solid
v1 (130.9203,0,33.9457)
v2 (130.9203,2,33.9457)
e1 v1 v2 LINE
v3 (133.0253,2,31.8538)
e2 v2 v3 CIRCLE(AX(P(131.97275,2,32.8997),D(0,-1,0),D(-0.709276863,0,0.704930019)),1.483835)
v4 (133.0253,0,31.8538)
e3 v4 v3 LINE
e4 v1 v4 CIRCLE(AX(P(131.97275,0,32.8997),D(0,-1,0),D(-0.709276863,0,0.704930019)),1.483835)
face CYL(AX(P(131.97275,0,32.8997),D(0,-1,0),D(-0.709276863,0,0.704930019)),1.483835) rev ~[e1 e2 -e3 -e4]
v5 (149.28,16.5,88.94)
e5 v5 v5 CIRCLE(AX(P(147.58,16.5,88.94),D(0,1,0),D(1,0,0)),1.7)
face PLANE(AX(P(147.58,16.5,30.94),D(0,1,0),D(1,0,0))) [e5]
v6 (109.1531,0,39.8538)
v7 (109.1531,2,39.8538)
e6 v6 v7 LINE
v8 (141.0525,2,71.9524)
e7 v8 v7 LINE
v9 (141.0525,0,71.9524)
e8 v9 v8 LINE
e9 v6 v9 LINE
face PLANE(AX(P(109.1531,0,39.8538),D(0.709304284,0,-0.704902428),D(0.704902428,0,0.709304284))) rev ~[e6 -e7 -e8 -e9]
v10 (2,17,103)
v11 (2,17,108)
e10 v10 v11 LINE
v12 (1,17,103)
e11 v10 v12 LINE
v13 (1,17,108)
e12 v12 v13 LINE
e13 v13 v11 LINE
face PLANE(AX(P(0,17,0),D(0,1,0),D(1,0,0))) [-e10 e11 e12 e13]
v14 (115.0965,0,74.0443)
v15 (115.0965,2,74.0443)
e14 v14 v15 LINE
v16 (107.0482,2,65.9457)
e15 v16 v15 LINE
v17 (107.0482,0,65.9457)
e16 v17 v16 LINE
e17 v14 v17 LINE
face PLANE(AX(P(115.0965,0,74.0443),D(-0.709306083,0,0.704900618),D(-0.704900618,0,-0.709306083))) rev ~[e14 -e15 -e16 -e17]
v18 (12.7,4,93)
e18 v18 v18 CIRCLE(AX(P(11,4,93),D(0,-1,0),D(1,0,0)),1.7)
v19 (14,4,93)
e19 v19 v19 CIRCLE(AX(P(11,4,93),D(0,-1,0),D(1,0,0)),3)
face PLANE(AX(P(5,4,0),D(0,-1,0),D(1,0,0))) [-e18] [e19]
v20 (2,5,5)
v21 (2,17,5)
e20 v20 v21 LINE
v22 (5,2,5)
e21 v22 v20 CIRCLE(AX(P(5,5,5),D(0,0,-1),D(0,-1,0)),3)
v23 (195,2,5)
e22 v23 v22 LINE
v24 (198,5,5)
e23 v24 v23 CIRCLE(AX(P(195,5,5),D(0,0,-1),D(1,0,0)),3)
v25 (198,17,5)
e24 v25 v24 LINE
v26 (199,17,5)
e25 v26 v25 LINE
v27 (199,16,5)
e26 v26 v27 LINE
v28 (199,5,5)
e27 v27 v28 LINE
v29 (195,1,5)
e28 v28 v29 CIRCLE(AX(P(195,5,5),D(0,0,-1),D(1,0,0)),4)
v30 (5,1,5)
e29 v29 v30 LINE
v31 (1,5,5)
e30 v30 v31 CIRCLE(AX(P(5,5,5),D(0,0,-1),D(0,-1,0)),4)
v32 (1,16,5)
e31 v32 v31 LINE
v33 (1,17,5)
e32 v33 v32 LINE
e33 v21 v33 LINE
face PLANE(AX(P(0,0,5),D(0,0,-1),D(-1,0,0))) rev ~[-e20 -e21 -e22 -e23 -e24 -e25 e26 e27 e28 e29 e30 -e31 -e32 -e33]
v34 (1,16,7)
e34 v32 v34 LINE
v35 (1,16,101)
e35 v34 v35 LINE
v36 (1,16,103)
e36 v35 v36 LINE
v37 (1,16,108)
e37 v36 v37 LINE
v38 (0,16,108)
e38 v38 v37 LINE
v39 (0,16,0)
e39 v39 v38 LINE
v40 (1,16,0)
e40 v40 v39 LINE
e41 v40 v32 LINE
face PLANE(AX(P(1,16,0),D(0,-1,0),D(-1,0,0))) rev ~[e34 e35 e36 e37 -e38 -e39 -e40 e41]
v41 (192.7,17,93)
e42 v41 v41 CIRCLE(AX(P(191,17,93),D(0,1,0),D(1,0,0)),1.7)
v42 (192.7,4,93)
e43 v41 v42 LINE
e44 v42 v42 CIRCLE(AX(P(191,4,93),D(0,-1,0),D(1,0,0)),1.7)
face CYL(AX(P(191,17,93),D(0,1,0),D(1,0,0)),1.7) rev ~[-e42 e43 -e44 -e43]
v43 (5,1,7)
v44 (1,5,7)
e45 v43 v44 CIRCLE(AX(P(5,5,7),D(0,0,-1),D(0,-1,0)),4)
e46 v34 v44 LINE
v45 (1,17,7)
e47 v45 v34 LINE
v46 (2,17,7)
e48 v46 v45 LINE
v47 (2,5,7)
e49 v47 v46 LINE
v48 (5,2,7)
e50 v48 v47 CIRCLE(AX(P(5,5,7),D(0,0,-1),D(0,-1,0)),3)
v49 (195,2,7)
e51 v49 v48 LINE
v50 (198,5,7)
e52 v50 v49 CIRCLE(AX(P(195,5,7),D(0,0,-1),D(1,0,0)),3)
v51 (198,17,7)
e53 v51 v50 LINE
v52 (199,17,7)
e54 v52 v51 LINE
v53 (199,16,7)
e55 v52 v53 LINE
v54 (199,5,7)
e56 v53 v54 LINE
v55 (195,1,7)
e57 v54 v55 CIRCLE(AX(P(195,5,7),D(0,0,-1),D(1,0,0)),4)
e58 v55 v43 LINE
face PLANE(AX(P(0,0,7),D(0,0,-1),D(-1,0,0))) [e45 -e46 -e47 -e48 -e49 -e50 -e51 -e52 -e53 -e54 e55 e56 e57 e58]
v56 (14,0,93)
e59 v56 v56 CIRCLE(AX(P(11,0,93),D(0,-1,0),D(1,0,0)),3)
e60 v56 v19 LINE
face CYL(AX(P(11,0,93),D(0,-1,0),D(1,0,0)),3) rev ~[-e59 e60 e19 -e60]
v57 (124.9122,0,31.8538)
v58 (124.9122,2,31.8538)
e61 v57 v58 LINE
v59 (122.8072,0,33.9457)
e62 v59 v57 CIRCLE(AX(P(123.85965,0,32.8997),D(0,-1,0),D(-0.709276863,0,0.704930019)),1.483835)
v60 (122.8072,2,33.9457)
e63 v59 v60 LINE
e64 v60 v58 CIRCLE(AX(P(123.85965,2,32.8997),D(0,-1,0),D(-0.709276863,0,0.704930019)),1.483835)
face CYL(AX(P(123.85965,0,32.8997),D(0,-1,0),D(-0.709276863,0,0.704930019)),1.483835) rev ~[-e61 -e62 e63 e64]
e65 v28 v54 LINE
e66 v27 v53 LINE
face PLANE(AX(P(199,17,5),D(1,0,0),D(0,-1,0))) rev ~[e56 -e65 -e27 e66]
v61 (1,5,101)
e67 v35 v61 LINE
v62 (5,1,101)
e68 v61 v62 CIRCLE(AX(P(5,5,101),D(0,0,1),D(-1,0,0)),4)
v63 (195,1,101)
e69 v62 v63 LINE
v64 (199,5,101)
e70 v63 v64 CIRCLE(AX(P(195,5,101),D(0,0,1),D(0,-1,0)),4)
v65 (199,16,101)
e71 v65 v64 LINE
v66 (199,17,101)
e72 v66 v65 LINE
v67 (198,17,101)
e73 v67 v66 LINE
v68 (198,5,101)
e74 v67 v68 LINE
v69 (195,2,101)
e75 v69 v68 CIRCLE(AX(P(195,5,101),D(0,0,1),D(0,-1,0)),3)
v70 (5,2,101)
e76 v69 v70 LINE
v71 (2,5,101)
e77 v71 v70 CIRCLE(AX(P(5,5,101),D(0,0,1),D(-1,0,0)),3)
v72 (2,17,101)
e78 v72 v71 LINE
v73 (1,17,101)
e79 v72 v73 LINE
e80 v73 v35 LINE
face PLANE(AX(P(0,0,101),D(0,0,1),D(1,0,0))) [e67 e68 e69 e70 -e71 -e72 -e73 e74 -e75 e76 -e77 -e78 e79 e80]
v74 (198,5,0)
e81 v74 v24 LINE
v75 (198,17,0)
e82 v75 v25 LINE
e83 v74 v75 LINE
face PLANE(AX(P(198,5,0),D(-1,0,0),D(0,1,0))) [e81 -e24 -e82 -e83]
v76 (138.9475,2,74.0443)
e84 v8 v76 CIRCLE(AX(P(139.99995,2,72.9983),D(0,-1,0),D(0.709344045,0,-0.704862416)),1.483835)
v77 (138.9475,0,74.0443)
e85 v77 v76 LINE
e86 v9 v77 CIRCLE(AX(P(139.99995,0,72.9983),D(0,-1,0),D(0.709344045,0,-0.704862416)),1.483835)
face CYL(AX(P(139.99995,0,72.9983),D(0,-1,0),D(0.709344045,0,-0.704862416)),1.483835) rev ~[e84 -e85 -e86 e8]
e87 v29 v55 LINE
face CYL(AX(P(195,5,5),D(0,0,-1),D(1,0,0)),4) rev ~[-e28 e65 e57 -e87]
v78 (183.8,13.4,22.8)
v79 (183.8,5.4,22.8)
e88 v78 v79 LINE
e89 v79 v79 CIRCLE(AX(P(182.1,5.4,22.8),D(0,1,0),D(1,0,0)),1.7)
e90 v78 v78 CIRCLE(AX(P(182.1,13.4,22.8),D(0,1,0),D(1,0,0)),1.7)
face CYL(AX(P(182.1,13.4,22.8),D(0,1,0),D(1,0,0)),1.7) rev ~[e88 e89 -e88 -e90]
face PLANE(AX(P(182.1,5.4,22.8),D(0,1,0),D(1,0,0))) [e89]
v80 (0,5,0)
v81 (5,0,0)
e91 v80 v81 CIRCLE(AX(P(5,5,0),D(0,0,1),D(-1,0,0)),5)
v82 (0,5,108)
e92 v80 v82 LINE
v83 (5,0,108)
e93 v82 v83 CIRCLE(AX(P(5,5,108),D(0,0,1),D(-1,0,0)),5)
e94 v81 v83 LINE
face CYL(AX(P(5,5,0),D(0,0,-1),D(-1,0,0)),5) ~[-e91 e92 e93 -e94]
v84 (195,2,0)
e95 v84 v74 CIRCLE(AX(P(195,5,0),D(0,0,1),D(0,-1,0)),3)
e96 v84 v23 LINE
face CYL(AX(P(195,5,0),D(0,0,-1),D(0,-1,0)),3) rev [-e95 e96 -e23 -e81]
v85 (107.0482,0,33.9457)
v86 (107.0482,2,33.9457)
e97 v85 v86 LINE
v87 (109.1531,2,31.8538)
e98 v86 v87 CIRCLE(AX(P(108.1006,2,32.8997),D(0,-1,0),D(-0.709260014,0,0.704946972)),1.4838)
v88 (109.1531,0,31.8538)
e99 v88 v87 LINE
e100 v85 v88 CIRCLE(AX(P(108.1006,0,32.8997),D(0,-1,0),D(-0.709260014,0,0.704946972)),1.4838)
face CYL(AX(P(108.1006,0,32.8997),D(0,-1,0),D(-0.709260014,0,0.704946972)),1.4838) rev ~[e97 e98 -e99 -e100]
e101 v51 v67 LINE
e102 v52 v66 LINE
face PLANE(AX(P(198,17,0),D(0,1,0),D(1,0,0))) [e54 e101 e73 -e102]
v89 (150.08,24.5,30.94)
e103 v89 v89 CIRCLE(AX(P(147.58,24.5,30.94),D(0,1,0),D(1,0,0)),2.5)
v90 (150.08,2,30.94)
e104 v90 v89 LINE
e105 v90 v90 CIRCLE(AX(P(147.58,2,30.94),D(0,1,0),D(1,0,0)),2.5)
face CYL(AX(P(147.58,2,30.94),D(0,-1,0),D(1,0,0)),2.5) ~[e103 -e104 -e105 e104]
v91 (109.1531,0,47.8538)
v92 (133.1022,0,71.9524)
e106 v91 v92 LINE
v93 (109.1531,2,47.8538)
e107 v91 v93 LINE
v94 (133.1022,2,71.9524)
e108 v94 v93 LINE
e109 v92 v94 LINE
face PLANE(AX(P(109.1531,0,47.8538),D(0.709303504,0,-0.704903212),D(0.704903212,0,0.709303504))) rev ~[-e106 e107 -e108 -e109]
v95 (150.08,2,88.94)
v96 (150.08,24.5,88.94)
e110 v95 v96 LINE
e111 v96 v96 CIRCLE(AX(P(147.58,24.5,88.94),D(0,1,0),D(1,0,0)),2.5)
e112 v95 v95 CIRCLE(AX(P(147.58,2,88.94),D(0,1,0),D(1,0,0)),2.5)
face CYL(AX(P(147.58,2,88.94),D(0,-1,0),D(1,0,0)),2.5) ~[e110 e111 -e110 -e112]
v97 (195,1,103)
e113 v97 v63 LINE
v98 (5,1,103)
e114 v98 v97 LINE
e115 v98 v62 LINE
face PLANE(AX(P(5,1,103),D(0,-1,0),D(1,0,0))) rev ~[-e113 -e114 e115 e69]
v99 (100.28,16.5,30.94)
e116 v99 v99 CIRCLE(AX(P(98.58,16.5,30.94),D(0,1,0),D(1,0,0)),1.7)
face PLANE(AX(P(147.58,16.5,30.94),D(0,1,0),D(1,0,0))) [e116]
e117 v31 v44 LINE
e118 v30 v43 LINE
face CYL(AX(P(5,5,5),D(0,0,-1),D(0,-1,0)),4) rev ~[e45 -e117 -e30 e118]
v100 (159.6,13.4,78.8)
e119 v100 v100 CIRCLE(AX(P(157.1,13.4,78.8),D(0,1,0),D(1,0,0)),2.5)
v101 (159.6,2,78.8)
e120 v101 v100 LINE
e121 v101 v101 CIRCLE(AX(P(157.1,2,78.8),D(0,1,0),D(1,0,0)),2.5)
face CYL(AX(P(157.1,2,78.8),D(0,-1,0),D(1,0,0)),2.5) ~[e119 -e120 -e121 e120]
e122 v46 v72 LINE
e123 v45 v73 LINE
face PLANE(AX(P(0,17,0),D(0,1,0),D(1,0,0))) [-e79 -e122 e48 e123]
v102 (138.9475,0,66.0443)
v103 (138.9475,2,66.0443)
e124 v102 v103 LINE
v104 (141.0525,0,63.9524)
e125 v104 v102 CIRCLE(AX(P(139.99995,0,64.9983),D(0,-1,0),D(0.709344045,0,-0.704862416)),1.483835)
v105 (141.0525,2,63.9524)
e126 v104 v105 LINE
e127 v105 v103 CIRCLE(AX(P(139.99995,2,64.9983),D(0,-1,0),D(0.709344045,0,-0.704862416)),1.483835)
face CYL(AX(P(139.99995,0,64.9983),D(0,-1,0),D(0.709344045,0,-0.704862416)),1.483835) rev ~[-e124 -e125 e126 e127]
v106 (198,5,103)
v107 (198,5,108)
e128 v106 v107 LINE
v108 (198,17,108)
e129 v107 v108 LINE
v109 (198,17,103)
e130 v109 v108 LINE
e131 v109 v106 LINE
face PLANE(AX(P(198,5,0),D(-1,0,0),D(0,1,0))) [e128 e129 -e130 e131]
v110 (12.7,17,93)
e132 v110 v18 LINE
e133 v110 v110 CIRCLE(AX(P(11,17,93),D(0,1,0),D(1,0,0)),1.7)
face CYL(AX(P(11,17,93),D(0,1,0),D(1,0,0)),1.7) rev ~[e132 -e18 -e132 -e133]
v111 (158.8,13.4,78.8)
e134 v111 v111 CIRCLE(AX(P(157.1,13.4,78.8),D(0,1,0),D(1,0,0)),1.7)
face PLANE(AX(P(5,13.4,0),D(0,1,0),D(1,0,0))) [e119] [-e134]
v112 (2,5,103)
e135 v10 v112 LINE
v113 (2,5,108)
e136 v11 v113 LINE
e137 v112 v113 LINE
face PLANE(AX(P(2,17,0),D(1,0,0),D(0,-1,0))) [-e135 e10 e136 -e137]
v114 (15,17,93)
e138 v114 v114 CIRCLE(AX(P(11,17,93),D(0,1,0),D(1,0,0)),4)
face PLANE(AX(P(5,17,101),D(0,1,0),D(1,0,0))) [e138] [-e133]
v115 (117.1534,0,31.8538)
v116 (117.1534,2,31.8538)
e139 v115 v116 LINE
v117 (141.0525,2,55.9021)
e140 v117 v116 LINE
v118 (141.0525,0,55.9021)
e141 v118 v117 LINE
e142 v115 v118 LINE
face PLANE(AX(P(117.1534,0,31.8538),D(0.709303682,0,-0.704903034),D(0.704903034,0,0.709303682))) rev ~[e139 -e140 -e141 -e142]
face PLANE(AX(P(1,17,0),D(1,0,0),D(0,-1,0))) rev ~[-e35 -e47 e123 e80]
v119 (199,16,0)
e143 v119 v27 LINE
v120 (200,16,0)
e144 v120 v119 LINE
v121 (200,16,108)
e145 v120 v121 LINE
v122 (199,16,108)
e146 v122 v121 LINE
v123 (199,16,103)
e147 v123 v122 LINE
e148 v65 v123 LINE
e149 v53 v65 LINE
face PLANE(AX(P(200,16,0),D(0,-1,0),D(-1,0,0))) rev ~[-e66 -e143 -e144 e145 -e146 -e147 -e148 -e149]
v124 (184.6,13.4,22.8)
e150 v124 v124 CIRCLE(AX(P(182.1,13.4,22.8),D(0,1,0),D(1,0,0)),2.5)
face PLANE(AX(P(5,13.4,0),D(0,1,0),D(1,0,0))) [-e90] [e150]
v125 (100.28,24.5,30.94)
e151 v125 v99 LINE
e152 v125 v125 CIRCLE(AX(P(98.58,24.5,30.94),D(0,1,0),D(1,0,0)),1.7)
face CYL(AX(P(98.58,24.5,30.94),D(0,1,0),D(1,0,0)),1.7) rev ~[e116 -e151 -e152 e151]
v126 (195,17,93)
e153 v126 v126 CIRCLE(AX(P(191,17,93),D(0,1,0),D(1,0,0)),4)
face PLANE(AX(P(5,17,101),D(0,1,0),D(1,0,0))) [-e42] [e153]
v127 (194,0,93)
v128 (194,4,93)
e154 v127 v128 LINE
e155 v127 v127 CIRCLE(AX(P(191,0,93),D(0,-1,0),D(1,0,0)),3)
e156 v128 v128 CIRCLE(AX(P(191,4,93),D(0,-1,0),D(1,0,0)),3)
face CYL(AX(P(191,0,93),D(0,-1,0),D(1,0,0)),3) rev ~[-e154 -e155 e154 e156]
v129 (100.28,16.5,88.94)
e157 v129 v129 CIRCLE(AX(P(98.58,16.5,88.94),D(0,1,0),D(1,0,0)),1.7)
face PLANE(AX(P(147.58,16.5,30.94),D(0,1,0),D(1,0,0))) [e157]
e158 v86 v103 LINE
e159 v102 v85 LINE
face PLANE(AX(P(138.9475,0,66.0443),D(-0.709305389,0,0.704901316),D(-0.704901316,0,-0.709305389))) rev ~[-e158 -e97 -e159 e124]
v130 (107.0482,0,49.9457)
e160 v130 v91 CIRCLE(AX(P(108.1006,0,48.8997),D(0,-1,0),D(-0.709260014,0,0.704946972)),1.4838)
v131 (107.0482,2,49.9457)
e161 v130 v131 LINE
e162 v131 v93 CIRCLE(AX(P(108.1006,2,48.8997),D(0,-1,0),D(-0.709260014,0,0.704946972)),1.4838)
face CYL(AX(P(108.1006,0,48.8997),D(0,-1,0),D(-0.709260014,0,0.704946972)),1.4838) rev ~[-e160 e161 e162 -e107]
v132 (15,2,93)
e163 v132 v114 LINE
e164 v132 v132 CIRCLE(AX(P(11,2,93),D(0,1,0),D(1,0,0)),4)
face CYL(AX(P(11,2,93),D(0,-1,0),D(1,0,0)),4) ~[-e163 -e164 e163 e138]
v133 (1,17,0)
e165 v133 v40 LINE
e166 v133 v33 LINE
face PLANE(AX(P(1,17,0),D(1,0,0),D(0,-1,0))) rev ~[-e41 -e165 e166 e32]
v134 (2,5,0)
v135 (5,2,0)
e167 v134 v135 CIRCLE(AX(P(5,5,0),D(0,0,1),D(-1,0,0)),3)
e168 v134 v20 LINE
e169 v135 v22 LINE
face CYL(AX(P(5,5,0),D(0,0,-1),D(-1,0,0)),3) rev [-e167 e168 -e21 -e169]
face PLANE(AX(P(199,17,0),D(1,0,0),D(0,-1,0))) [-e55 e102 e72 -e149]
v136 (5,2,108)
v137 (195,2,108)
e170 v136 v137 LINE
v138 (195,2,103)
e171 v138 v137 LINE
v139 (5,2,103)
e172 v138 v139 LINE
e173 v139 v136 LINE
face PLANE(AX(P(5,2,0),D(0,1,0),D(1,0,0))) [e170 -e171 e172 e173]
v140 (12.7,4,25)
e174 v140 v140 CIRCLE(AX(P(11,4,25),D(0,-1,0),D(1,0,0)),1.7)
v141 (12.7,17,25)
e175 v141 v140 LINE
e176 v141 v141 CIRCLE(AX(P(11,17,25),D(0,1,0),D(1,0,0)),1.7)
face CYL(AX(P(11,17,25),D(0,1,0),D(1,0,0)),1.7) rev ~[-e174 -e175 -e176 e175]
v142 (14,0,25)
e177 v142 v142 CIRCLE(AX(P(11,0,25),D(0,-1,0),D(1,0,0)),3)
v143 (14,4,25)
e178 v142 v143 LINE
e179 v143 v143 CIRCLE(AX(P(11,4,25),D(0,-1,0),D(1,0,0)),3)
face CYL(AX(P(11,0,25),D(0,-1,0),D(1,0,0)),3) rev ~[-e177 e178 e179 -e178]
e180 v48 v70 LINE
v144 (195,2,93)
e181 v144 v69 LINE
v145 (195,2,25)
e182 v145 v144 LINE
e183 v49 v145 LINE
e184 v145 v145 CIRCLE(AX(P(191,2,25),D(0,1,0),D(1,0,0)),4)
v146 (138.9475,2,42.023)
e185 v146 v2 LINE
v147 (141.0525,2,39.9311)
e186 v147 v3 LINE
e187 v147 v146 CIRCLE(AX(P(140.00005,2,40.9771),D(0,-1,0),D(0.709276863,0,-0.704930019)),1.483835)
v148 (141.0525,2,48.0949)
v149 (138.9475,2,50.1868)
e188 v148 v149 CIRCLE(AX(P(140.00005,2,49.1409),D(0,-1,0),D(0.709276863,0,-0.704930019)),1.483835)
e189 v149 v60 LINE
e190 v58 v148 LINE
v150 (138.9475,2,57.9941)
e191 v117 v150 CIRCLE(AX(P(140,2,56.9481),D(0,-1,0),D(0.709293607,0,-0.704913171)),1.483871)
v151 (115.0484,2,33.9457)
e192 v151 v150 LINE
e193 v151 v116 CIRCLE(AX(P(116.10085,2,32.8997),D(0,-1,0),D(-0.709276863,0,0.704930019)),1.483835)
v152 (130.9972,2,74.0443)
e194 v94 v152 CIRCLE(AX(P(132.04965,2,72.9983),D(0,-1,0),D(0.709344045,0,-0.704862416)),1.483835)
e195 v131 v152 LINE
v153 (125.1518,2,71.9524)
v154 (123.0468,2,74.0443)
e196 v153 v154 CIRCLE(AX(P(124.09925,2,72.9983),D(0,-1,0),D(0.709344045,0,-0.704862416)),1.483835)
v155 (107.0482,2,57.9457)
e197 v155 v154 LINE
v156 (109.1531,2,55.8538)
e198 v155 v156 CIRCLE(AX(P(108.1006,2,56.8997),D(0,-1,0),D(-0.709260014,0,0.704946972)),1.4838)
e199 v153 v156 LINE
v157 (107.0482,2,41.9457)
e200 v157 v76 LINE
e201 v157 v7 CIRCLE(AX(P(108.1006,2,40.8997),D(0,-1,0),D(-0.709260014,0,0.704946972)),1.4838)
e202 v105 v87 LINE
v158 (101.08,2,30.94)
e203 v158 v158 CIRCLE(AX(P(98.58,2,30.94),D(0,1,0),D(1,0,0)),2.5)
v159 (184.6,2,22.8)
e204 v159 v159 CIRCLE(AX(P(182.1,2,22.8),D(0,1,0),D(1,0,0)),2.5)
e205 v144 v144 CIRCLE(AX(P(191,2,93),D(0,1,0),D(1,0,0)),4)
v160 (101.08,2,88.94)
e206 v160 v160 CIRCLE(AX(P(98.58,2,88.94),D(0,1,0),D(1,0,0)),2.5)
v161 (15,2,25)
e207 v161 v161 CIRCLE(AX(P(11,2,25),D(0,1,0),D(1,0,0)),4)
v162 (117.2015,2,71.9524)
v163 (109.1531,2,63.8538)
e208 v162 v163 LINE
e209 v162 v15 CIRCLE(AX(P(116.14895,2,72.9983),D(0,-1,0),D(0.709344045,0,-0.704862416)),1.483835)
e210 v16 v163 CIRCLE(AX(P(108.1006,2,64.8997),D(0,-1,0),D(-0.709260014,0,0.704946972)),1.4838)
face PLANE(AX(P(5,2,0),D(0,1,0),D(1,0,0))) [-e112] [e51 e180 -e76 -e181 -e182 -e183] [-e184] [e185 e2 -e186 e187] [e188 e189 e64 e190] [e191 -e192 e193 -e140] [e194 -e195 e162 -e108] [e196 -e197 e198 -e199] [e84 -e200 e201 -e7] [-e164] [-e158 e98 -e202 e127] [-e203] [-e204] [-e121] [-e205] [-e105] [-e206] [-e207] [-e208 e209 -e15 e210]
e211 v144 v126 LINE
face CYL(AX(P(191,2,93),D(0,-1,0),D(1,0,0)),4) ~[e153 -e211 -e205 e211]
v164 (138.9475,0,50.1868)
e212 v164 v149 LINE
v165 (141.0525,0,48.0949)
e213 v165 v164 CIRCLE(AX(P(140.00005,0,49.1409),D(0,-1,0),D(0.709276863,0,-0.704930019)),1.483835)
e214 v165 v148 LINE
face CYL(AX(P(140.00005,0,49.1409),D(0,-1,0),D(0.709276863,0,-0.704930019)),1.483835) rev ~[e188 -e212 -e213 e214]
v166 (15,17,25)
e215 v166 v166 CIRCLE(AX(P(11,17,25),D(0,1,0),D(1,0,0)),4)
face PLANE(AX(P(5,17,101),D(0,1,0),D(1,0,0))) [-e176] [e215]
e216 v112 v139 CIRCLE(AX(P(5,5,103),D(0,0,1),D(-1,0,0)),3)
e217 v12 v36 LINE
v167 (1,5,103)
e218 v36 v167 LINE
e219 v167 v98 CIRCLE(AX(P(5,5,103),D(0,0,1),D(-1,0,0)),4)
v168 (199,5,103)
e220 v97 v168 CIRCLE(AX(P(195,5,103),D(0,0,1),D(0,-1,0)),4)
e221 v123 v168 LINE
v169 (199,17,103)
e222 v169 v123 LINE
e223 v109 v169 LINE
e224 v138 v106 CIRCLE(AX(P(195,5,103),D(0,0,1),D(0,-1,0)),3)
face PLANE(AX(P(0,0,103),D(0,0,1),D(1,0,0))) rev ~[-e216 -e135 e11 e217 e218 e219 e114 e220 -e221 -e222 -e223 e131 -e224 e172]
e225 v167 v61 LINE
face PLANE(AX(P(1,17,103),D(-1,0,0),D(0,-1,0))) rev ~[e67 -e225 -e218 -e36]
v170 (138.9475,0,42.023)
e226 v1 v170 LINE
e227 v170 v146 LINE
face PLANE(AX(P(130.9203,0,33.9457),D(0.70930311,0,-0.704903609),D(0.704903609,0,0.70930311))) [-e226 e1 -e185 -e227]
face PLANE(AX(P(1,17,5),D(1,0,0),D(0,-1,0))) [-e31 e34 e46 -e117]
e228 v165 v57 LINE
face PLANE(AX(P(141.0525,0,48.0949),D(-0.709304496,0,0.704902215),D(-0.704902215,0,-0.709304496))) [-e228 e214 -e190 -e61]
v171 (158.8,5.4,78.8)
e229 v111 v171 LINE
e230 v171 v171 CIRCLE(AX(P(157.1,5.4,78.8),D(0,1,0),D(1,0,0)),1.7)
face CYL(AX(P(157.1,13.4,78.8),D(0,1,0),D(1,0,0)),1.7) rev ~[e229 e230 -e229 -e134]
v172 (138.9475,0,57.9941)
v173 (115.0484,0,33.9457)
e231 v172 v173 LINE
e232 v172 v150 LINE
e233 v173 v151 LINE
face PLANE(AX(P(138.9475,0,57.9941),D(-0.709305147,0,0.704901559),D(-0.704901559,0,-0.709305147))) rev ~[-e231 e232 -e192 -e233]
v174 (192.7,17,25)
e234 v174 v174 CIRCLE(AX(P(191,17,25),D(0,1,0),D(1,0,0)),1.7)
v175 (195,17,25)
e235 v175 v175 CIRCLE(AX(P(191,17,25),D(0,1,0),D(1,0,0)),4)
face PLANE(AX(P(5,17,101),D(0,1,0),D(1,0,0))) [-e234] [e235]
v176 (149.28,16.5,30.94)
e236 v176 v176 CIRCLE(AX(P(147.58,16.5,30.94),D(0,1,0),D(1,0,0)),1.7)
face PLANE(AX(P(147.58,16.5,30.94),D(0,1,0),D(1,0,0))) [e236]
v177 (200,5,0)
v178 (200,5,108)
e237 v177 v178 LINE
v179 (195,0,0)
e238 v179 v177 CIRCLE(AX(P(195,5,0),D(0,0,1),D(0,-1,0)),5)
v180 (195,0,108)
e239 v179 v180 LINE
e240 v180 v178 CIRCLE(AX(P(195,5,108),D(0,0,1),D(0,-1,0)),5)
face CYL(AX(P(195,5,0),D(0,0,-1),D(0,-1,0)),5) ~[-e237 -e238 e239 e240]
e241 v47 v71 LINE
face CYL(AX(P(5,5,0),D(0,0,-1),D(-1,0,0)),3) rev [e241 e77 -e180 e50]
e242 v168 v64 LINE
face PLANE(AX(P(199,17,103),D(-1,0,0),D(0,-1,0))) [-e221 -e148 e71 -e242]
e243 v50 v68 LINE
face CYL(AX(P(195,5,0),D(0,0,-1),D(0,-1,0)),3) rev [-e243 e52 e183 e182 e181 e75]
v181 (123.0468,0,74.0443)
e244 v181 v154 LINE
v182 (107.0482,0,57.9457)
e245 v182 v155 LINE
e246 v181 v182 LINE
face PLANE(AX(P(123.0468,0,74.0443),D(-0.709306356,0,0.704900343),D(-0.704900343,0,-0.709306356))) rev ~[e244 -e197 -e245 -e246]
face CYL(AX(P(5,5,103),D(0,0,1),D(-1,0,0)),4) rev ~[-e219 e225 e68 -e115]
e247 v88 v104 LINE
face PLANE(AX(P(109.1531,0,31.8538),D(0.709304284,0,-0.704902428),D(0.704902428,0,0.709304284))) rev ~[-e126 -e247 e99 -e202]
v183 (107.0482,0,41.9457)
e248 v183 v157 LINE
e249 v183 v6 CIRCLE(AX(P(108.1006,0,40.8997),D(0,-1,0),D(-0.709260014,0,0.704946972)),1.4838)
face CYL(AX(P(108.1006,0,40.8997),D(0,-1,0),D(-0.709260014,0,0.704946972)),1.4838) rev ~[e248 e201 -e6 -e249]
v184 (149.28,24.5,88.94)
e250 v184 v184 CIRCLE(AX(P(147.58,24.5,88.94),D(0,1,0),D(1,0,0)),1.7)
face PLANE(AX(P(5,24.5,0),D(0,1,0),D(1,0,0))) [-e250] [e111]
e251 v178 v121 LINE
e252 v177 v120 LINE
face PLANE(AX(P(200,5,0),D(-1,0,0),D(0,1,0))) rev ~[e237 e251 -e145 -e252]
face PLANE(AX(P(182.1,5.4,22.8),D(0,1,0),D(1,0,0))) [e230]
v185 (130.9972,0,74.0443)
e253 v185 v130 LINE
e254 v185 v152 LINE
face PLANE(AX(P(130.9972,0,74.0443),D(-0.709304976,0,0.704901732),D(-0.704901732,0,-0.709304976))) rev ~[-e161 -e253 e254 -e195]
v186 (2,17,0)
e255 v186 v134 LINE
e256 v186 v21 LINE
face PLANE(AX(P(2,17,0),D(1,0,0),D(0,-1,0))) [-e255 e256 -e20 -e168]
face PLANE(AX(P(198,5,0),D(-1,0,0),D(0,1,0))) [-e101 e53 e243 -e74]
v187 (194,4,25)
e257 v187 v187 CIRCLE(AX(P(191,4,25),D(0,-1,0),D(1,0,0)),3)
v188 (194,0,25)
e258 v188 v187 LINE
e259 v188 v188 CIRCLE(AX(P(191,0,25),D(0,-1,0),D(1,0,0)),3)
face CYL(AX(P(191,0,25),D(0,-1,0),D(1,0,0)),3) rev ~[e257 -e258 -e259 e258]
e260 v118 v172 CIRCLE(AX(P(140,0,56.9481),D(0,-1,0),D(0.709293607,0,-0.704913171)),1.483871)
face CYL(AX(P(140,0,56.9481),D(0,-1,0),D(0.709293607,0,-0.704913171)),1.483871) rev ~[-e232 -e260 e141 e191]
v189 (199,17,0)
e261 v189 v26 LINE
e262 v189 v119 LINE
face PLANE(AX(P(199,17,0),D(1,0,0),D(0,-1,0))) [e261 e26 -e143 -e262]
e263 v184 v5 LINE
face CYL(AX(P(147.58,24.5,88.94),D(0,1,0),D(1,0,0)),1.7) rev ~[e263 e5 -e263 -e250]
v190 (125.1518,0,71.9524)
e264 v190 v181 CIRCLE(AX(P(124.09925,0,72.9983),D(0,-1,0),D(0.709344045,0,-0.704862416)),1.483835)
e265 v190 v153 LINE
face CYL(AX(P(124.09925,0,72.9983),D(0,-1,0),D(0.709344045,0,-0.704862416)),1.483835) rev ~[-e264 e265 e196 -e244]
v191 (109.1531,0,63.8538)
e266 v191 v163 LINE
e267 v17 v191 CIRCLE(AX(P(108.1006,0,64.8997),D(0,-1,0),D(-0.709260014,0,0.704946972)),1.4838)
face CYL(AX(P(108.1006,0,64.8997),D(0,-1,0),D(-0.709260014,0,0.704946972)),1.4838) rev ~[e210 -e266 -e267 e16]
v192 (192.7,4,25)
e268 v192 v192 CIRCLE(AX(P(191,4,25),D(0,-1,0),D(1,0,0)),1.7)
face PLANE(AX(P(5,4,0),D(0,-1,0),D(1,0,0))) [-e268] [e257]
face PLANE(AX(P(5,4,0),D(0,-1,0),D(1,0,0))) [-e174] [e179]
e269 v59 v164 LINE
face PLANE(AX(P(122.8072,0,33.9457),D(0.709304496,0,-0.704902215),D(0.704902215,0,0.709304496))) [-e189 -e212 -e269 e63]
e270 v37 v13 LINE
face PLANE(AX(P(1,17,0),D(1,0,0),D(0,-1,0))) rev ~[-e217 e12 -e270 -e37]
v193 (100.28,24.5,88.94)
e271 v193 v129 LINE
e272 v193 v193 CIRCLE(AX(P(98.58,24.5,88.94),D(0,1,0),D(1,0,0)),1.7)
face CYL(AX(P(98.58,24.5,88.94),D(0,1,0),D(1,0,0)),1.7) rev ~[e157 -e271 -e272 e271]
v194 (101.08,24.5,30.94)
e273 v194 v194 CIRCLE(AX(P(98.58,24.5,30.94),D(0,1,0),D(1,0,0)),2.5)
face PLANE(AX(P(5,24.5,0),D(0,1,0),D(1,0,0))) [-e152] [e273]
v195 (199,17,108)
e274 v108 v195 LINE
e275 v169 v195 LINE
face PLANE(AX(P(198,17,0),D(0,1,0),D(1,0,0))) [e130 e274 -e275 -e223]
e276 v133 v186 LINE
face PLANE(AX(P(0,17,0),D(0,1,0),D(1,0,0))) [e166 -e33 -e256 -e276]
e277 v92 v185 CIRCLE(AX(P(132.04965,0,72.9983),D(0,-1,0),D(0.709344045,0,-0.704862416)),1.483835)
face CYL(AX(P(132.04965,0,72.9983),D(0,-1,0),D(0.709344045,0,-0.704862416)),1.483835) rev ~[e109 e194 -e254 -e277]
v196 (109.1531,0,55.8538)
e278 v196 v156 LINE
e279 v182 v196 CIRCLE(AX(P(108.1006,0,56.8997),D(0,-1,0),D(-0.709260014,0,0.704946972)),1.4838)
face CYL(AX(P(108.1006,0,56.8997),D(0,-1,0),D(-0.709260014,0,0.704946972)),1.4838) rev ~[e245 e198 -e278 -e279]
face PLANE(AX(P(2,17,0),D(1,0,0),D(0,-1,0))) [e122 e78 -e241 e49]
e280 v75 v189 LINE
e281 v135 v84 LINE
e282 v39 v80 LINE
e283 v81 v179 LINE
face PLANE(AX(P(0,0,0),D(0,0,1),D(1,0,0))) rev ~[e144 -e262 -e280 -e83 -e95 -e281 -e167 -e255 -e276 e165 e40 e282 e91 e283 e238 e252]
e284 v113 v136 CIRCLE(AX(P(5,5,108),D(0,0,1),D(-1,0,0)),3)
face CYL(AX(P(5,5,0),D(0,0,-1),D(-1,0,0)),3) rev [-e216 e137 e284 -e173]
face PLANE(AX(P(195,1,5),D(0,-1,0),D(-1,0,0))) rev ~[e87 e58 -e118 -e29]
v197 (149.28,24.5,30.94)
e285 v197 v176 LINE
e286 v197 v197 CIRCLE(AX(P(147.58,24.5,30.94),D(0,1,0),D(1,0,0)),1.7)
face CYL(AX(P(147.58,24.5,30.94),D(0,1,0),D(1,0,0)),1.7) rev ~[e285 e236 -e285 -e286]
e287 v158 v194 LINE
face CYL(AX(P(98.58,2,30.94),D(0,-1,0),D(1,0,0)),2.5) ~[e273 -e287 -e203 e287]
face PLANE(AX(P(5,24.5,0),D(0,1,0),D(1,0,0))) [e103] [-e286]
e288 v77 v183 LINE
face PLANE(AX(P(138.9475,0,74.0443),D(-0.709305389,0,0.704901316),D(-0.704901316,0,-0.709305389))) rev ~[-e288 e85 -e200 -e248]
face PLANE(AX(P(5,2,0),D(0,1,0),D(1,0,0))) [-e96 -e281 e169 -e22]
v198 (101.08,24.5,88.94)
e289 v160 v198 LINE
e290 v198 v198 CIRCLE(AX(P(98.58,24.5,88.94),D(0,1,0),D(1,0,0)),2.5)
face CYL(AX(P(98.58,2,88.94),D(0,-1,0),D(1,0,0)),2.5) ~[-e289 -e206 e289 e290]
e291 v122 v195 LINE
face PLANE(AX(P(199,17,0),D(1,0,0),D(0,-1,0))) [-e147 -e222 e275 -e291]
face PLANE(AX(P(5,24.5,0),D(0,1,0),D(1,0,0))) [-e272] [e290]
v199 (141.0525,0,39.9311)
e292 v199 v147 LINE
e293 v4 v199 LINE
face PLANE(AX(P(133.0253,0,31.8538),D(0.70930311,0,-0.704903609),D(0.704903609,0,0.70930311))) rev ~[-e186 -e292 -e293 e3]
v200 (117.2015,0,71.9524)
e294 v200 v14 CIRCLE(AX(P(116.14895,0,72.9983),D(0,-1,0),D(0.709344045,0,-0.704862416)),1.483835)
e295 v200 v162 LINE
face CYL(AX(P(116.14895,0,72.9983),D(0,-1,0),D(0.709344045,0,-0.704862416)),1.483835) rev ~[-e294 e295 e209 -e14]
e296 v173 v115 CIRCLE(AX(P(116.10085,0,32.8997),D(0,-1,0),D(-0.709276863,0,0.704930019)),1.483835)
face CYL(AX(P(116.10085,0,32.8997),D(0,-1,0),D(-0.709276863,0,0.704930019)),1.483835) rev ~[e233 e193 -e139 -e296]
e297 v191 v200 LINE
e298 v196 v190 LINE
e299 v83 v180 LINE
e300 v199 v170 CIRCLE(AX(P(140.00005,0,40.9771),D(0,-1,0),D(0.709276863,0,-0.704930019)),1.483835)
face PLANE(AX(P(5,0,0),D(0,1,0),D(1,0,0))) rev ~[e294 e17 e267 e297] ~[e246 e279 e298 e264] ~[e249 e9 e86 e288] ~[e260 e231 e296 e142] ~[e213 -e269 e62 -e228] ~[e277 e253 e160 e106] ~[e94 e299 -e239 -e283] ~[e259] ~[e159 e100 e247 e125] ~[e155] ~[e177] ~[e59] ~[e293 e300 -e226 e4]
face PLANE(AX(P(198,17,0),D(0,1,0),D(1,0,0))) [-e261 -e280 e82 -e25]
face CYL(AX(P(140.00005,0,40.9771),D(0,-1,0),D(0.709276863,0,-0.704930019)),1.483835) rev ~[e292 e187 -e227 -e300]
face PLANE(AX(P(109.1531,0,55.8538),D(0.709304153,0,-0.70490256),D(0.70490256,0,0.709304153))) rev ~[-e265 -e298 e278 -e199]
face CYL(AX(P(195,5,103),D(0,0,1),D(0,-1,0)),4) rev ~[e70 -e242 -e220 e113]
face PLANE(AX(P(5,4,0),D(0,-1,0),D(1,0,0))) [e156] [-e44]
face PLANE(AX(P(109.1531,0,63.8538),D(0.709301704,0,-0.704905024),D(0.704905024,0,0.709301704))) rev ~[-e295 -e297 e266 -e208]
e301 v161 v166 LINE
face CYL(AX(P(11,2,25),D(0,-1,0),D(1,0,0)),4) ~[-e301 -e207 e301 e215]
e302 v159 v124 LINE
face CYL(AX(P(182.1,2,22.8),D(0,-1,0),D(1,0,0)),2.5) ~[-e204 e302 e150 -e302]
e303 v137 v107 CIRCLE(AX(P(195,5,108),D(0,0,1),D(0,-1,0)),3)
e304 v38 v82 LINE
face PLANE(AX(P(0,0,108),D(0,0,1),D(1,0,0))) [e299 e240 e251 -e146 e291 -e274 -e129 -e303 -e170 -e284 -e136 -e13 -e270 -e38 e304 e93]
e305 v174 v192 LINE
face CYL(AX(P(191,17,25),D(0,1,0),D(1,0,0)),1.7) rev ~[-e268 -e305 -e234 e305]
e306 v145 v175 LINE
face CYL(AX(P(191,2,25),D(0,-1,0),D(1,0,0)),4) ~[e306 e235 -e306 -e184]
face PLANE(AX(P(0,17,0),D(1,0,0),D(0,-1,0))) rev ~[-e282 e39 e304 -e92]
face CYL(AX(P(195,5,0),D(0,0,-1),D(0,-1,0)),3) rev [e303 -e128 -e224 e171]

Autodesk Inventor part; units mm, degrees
ref_plane "YZ Plane" through (0, 0, 0) normal (1, 0, 0) x (0, 1, 0)
sketch "Sketch1" plane through (0, 0, 0) normal (0, 0, 1) x (1, 0, 0)
  line L0 (0, 17) -> (0, 5)
  line L1 (5, 0) -> (195, 0)
  line L2 (200, 5) -> (200, 17)
  arc A0 (0, 5) -> (5, 0) centre (5, 5) ccw
  arc A1 (195, 0) -> (200, 5) centre (195, 5) ccw
  line L3 (2, 17) -> (2, 5)
  arc A2 (2, 5) -> (5, 2) centre (5, 5) ccw
  line L4 (5, 2) -> (195, 2)
  arc A3 (195, 2) -> (198, 5) centre (195, 5) ccw
  line L5 (198, 5) -> (198, 17)
  line L6 (0, 17) -> (2, 17)
  line L7 (198, 17) -> (200, 17)
  point P0 (0, 0)
  dimension "fillet" = 5
  dimension "thickness" = 2
  dimension "caseBottomWidth" = 200
  dimension "caseBottomHeight" = 17
extrude "Extrusion1" add sketch "Sketch1" along normal blind 108
ref_plane "Work Plane1" through (0, 0, 103) normal (0, 0, 1) x (1, 0, 0)
sketch "Sketch3" plane through (0, 0, 103) normal (0, 0, 1) x (1, 0, 0)
  line L0 (2, 17) -> (1, 17)
  line L1 (2, 17) -> (2, 5)
  line L2 (1, 17) -> (1, 5)
  line L3 (195, 2) -> (5, 2) projected
  line L4 (195, 2) -> (5, 2)
  line L5 (198, 17) -> (198, 5) projected
  line L6 (198, 17) -> (198, 5)
  line L7 (198, 17) -> (199, 17)
  line L8 (199, 17) -> (199, 5)
  line L9 (5, 1) -> (195, 1)
  arc A0 (2, 5) -> (5, 2) centre (5, 5) ccw
  arc A1 (195, 2) -> (198, 5) centre (195, 5) ccw
  arc A2 (1, 5) -> (5, 1) centre (5, 5) ccw
  arc A3 (195, 1) -> (199, 5) centre (195, 5) ccw
  point P0 (0, 0)
  dimension "d8" = 1
  dimension "d9" = 1
  dimension "d10" = 1
  dimension "filletInner" = 3
  dimension "filletMid" = 4
extrude "Extrusion2" cut sketch "Sketch3" against normal blind 2
ref_plane "Work Plane2" through (0, 0, 5) normal (0, 0, -1) x (-1, 0, 0)
sketch "Sketch5" plane through (0, 0, 5) normal (0, 0, -1) x (-1, 0, 0)
  line L0 (-200, 17) -> (-198, 17) projected
  line L1 (-198, 17) -> (-198, 5)
  line L2 (-199, 17) -> (-199, 5)
  line L3 (-2, 5) -> (-2, 17) projected
  line L4 (-2, 17) -> (-2, 5)
  line L5 (-2, 17) -> (0, 17) projected
  line L6 (-1, 17) -> (-1, 5)
  line L7 (-195, 2) -> (-5, 2)
  line L8 (-195, 1) -> (-5, 1)
  line L9 (-195, 2) -> (-5, 2) projected
  arc A0 (-198, 5) -> (-195, 2) centre (-195, 5) ccw
  arc A1 (-5, 2) -> (-2, 5) centre (-5, 5) ccw
  arc A2 (-199, 5) -> (-195, 1) centre (-195, 5) ccw
  arc A3 (-5, 1) -> (-1, 5) centre (-5, 5) ccw
  point P0 (0, 0)
  dimension "d21" = 1
  dimension "d22" = 3
  dimension "d23" = 4
extrude "Extrusion4" cut sketch "Sketch5" against normal blind 2
sketch "Sketch6" plane through (0, 0, 0) normal (0, 0, -1) x (-1, 0, 0)
  line L0 (-199, 17) -> (-199, 5) projected
  line L1 (-200, 5) -> (-200, 17) projected
  line L2 (-199, 17) -> (-200, 17)
  line L3 (-200, 17) -> (-200, 16)
  line L4 (-200, 16) -> (-199, 16)
  line L5 (-199, 16) -> (-199, 17)
  line L6 (-1, 17) -> (-1, 5) projected
  line L7 (0, 17) -> (-1, 17)
  line L8 (-1, 17) -> (-1, 16)
  line L9 (-1, 16) -> (0, 16)
  line L10 (0, 16) -> (0, 17)
  line L11 (0, 17) -> (0, 5) projected
  line L12 (-2, 17) -> (0, 17) projected
  point P0 (0, 0)
  dimension "lipHeight" = 1
extrude "Extrusion5" cut sketch "Sketch6" against normal through all
sketch "Sketch7" plane through (5, 2, 0) normal (0, 1, 0) x (1, 0, 0)
  circle A0 centre (177.1, -22.8) radius 2.5
  circle A1 centre (177.1, -22.8) radius 1.7
  circle A2 centre (142.58, -30.94) radius 2.5
  circle A3 centre (142.58, -30.94) radius 1.7
  circle A4 centre (142.58, -88.94) radius 2.5
  circle A5 centre (142.58, -88.94) radius 1.7
  circle A6 centre (93.58, -88.94) radius 2.5
  circle A7 centre (93.58, -88.94) radius 1.7
  circle A8 centre (93.58, -30.94) radius 2.5
  circle A9 centre (93.58, -30.94) radius 1.7
  circle A10 centre (152.1, -78.8) radius 2.5
  circle A11 centre (152.1, -78.8) radius 1.7
  line L0 (190, 0) -> (0, 0) projected
  line L1 (195, 0) -> (195, -108) projected
  point P0 (-5, 0)
  dimension "holeSupportDiameter" = 5
  dimension "holeDiameter" = 3.4
  dimension "d31" = 5
  dimension "d32" = 3.4
  dimension "d33" = 5
  dimension "d34" = 3.4
  dimension "d35" = 5
  dimension "d36" = 3.4
  dimension "d37" = 5
  dimension "d38" = 3.4
  dimension "d39" = 58
  dimension "d40" = 49
  dimension "d43" = 5
  dimension "d44" = 3.4
  dimension "d45" = 25
  dimension "d46" = 56
  dimension "d59" = 22.8
  dimension "d60" = 17.9
  dimension "d61" = 34.52
  dimension "d62" = 8.14
extrude "Extrusion6" add sketch "Sketch7" along normal blind 22.5 contours A2 | A3 | A4 | A5 | A6 | A7 | A8 | A9
extrude "Extrusion7" add sketch "Sketch7" along normal blind 11.4 contours A0 | A1 | A10 | A11
sketch "Sketch8" plane through (182.1, 13.4, 22.8) normal (0, 1, 0) x (1, 0, 0)
  circle A0 centre (0, 0) radius 2.5 projected
  circle A1 centre (0, 0) radius 1.7
  circle A2 centre (-25, -56) radius 1.7
  circle A3 centre (-25, -56) radius 2.5 projected
  circle A4 centre (0, 0) radius 2.5 projected
  point P0 (-182.1, 22.8)
  point P1 (2.2499, -0.0186)
  point P2 (2.2499, 0.0186)
  dimension "d49" = 3.4
  dimension "d50" = 3.4
extrude "Extrusion8" cut sketch "Sketch8" against normal blind 8 contours A1 | A2
sketch "Sketch9" plane through (147.58, 24.5, 30.94) normal (0, 1, 0) x (1, 0, 0)
  circle A0 centre (0, -58) radius 1.7
  circle A1 centre (0, 0) radius 1.7
  circle A2 centre (-49, 0) radius 1.7
  circle A3 centre (-49, -58) radius 2.5 projected
  circle A4 centre (-49, -58) radius 1.7
  circle A5 centre (0, -58) radius 2.5 projected
  circle A6 centre (0, 0) radius 2.5 projected
  circle A7 centre (-49, 0) radius 2.5 projected
  point P0 (-147.58, 30.94)
  dimension "d53" = 3.4
  dimension "d54" = 3.4
  dimension "d55" = 3.4
  dimension "d56" = 3.4
extrude "Extrusion9" cut sketch "Sketch9" against normal blind 8 contours A0 | A1 | A2 | A4
sketch "Sketch11" plane through (5, 0, 0) normal (0, -1, 0) x (1, 0, 0)
  line L0 (195, 0) -> (195, 108) projected
  line L1 (0, 108) -> (190, 108) projected
  line L2 (128.0253, 31.8538) -> (136.0525, 39.9311)
  line L3 (125.9203, 33.9457) -> (133.9475, 42.023)
  line L4 (136.0525, 48.0949) -> (119.9122, 31.8538)
  line L5 (117.8072, 33.9457) -> (133.9475, 50.1868)
  line L6 (112.1534, 31.8538) -> (136.0525, 55.9021)
  line L7 (133.9475, 57.9941) -> (110.0484, 33.9457)
  line L8 (104.1531, 31.8538) -> (136.0525, 63.9524)
  line L9 (133.9475, 66.0443) -> (102.0482, 33.9457)
  line L10 (104.1531, 39.8538) -> (136.0525, 71.9524)
  line L11 (133.9475, 74.0443) -> (102.0482, 41.9457)
  line L12 (104.1531, 47.8538) -> (128.1022, 71.9524)
  line L13 (125.9972, 74.0443) -> (102.0482, 49.9457)
  line L14 (104.1531, 55.8538) -> (120.1518, 71.9524)
  line L15 (118.0468, 74.0443) -> (102.0482, 57.9457)
  line L16 (104.1531, 63.8538) -> (112.2015, 71.9524)
  line L17 (110.0965, 74.0443) -> (102.0482, 65.9457)
  arc A0 (125.9203, 33.9457) -> (128.0253, 31.8538) centre (126.9728, 32.8997) ccw
  arc A1 (136.0525, 39.9311) -> (133.9475, 42.023) centre (135, 40.9771) ccw
  arc A2 (136.0525, 48.0949) -> (133.9475, 50.1868) centre (135, 49.1409) ccw
  arc A3 (136.0525, 55.9021) -> (133.9475, 57.9941) centre (135, 56.9481) ccw
  arc A4 (136.0525, 63.9524) -> (133.9475, 66.0443) centre (135, 64.9983) ccw
  arc A5 (136.0525, 71.9524) -> (133.9475, 74.0443) centre (135, 72.9983) ccw
  arc A6 (128.1022, 71.9524) -> (125.9972, 74.0443) centre (127.0497, 72.9983) ccw
  arc A7 (120.1518, 71.9524) -> (118.0468, 74.0443) centre (119.0993, 72.9983) ccw
  arc A8 (112.2015, 71.9524) -> (110.0965, 74.0443) centre (111.149, 72.9983) ccw
  arc A9 (102.0482, 65.9457) -> (104.1531, 63.8538) centre (103.1007, 64.8997) ccw
  arc A10 (102.0482, 57.9457) -> (104.1531, 55.8538) centre (103.1007, 56.8997) ccw
  arc A11 (102.0482, 49.9457) -> (104.1531, 47.8538) centre (103.1007, 48.8997) ccw
  arc A12 (102.0482, 41.9457) -> (104.1531, 39.8538) centre (103.1007, 40.8997) ccw
  arc A13 (102.0482, 33.9457) -> (104.1531, 31.8538) centre (103.1007, 32.8997) ccw
  arc A14 (110.0484, 33.9457) -> (112.1534, 31.8538) centre (111.1009, 32.8997) ccw
  arc A15 (117.8072, 33.9457) -> (119.9122, 31.8538) centre (118.8597, 32.8997) ccw
  point P0 (-5, 0)
  dimension "d162" = 60
  dimension "d163" = 67.0229
  dimension "d164" = 44.822
  dimension "d165" = 1.4838
  dimension "d166" = 11.3877
  dimension "d167" = 2.787
  dimension "d168" = 2.5356
  dimension "d169" = 2.7069
  dimension "d170" = 2.6715
  dimension "d171" = 2.6715
  dimension "d172" = 2.6715
  dimension "d173" = 2.6715
  dimension "d174" = 2.9677
extrude "airHoles" cut sketch "Sketch11" against normal blind 4
sketch "Sketch12" plane through (5, 2, 101) normal (0, 1, 0) x (1, 0, 0)
  circle A0 centre (186, 76) radius 4
  line L0 (140.3029, -19.5933) -> (121.3678, -19.5933)
  line L1 (140.3029, -19.5933) -> (140.3029, -32.2167)
  circle A1 centre (186, 8) radius 4
  circle A2 centre (6, 76) radius 4
  circle A3 centre (6, 8) radius 4
  line L2 (195, 101) -> (195, -7) projected
  line L3 (190, 101) -> (0, 101) projected
  point P0 (-5, 101)
  dimension "caseJoinSpacingFrontBack" = 68
  dimension "caseJoinSpacingLeftRight" = 180
  dimension "caseJoinOffsetFromSide" = 9
  dimension "caseJoinOffsetFromBack" = 25
  dimension "caseJoinDiameter" = 8
extrude "caseJoinSupports" add sketch "Sketch12" along normal blind 15
sketch "Sketch13" plane through (191, 17, 93) normal (0, 1, 0) x (1, 0, 0)
  circle A0 centre (0, 68) radius 4 projected
  circle A1 centre (0, 68) radius 1.7
  circle A2 centre (-180, 68) radius 4 projected
  circle A3 centre (-180, 68) radius 1.7
  circle A4 centre (-180, 0) radius 1.7
  circle A5 centre (-180, 0) radius 4 projected
  circle A6 centre (0, 0) radius 1.7
  circle A7 centre (0, 0) radius 4 projected
  point P0 (-191, 93)
  dimension "d154" = 3.4
extrude "Extrusion13" cut sketch "Sketch13" against normal through all contours A1 | A3 | A4 | A6
sketch "Sketch14" plane through (5, 0, 0) normal (0, -1, 0) x (1, 0, 0)
  circle A0 centre (186, 25) radius 3
  circle A1 centre (186, 25) radius 1.7 projected
  circle A2 centre (6, 93) radius 1.7 projected
  circle A3 centre (6, 93) radius 3
  circle A4 centre (186, 93) radius 1.7 projected
  circle A5 centre (186, 93) radius 3
  circle A6 centre (6, 25) radius 1.7 projected
  circle A7 centre (6, 25) radius 3
  point P0 (-5, 0)
  dimension "d157" = 6
extrude "Extrusion15" cut sketch "Sketch14" against normal blind 4
equation "\"d8\" = 0.5 * thickness"
equation "\"d9\" = 0.5 * thickness"
equation "\"d10\" = 0.5 * thickness"
equation "\"d13\" = thickness"
equation "\"d21\" = 0.5 * thickness"
equation "\"d22\" = filletInner"
equation "\"d23\" = filletMid"
equation "\"d24\" = thickness"
equation "\"d31\" = holeSupportDiameter"
equation "\"d32\" = holeDiameter"
equation "\"d33\" = holeSupportDiameter"
equation "\"d34\" = holeDiameter"
equation "\"d35\" = holeSupportDiameter"
equation "\"d36\" = holeDiameter"
equation "\"d37\" = holeSupportDiameter"
equation "\"d38\" = holeDiameter"
equation "\"d43\" = holeSupportDiameter"
equation "\"d44\" = holeDiameter"
equation "\"d49\" = holeDiameter"
equation "\"d50\" = holeDiameter"
equation "\"d53\" = holeDiameter"
equation "\"d54\" = holeDiameter"
equation "\"d55\" = holeDiameter"
equation "\"d56\" = holeDiameter"
equation "\"d57\" = holeDepth"
equation "\"d139\" = 2 * thickness"
equation "\"d152\" = caseBottomHeight - thickness"
equation "\"d154\" = holeDiameter"
equation "\"d15\" = frontBackOffset"
equation "\"offsetFromSideOfCase\" = 20"
equation "\"holeDepth\" = 8"
equation "\"frontBackOffset\" = -5"
properties part number "case-bottom"
